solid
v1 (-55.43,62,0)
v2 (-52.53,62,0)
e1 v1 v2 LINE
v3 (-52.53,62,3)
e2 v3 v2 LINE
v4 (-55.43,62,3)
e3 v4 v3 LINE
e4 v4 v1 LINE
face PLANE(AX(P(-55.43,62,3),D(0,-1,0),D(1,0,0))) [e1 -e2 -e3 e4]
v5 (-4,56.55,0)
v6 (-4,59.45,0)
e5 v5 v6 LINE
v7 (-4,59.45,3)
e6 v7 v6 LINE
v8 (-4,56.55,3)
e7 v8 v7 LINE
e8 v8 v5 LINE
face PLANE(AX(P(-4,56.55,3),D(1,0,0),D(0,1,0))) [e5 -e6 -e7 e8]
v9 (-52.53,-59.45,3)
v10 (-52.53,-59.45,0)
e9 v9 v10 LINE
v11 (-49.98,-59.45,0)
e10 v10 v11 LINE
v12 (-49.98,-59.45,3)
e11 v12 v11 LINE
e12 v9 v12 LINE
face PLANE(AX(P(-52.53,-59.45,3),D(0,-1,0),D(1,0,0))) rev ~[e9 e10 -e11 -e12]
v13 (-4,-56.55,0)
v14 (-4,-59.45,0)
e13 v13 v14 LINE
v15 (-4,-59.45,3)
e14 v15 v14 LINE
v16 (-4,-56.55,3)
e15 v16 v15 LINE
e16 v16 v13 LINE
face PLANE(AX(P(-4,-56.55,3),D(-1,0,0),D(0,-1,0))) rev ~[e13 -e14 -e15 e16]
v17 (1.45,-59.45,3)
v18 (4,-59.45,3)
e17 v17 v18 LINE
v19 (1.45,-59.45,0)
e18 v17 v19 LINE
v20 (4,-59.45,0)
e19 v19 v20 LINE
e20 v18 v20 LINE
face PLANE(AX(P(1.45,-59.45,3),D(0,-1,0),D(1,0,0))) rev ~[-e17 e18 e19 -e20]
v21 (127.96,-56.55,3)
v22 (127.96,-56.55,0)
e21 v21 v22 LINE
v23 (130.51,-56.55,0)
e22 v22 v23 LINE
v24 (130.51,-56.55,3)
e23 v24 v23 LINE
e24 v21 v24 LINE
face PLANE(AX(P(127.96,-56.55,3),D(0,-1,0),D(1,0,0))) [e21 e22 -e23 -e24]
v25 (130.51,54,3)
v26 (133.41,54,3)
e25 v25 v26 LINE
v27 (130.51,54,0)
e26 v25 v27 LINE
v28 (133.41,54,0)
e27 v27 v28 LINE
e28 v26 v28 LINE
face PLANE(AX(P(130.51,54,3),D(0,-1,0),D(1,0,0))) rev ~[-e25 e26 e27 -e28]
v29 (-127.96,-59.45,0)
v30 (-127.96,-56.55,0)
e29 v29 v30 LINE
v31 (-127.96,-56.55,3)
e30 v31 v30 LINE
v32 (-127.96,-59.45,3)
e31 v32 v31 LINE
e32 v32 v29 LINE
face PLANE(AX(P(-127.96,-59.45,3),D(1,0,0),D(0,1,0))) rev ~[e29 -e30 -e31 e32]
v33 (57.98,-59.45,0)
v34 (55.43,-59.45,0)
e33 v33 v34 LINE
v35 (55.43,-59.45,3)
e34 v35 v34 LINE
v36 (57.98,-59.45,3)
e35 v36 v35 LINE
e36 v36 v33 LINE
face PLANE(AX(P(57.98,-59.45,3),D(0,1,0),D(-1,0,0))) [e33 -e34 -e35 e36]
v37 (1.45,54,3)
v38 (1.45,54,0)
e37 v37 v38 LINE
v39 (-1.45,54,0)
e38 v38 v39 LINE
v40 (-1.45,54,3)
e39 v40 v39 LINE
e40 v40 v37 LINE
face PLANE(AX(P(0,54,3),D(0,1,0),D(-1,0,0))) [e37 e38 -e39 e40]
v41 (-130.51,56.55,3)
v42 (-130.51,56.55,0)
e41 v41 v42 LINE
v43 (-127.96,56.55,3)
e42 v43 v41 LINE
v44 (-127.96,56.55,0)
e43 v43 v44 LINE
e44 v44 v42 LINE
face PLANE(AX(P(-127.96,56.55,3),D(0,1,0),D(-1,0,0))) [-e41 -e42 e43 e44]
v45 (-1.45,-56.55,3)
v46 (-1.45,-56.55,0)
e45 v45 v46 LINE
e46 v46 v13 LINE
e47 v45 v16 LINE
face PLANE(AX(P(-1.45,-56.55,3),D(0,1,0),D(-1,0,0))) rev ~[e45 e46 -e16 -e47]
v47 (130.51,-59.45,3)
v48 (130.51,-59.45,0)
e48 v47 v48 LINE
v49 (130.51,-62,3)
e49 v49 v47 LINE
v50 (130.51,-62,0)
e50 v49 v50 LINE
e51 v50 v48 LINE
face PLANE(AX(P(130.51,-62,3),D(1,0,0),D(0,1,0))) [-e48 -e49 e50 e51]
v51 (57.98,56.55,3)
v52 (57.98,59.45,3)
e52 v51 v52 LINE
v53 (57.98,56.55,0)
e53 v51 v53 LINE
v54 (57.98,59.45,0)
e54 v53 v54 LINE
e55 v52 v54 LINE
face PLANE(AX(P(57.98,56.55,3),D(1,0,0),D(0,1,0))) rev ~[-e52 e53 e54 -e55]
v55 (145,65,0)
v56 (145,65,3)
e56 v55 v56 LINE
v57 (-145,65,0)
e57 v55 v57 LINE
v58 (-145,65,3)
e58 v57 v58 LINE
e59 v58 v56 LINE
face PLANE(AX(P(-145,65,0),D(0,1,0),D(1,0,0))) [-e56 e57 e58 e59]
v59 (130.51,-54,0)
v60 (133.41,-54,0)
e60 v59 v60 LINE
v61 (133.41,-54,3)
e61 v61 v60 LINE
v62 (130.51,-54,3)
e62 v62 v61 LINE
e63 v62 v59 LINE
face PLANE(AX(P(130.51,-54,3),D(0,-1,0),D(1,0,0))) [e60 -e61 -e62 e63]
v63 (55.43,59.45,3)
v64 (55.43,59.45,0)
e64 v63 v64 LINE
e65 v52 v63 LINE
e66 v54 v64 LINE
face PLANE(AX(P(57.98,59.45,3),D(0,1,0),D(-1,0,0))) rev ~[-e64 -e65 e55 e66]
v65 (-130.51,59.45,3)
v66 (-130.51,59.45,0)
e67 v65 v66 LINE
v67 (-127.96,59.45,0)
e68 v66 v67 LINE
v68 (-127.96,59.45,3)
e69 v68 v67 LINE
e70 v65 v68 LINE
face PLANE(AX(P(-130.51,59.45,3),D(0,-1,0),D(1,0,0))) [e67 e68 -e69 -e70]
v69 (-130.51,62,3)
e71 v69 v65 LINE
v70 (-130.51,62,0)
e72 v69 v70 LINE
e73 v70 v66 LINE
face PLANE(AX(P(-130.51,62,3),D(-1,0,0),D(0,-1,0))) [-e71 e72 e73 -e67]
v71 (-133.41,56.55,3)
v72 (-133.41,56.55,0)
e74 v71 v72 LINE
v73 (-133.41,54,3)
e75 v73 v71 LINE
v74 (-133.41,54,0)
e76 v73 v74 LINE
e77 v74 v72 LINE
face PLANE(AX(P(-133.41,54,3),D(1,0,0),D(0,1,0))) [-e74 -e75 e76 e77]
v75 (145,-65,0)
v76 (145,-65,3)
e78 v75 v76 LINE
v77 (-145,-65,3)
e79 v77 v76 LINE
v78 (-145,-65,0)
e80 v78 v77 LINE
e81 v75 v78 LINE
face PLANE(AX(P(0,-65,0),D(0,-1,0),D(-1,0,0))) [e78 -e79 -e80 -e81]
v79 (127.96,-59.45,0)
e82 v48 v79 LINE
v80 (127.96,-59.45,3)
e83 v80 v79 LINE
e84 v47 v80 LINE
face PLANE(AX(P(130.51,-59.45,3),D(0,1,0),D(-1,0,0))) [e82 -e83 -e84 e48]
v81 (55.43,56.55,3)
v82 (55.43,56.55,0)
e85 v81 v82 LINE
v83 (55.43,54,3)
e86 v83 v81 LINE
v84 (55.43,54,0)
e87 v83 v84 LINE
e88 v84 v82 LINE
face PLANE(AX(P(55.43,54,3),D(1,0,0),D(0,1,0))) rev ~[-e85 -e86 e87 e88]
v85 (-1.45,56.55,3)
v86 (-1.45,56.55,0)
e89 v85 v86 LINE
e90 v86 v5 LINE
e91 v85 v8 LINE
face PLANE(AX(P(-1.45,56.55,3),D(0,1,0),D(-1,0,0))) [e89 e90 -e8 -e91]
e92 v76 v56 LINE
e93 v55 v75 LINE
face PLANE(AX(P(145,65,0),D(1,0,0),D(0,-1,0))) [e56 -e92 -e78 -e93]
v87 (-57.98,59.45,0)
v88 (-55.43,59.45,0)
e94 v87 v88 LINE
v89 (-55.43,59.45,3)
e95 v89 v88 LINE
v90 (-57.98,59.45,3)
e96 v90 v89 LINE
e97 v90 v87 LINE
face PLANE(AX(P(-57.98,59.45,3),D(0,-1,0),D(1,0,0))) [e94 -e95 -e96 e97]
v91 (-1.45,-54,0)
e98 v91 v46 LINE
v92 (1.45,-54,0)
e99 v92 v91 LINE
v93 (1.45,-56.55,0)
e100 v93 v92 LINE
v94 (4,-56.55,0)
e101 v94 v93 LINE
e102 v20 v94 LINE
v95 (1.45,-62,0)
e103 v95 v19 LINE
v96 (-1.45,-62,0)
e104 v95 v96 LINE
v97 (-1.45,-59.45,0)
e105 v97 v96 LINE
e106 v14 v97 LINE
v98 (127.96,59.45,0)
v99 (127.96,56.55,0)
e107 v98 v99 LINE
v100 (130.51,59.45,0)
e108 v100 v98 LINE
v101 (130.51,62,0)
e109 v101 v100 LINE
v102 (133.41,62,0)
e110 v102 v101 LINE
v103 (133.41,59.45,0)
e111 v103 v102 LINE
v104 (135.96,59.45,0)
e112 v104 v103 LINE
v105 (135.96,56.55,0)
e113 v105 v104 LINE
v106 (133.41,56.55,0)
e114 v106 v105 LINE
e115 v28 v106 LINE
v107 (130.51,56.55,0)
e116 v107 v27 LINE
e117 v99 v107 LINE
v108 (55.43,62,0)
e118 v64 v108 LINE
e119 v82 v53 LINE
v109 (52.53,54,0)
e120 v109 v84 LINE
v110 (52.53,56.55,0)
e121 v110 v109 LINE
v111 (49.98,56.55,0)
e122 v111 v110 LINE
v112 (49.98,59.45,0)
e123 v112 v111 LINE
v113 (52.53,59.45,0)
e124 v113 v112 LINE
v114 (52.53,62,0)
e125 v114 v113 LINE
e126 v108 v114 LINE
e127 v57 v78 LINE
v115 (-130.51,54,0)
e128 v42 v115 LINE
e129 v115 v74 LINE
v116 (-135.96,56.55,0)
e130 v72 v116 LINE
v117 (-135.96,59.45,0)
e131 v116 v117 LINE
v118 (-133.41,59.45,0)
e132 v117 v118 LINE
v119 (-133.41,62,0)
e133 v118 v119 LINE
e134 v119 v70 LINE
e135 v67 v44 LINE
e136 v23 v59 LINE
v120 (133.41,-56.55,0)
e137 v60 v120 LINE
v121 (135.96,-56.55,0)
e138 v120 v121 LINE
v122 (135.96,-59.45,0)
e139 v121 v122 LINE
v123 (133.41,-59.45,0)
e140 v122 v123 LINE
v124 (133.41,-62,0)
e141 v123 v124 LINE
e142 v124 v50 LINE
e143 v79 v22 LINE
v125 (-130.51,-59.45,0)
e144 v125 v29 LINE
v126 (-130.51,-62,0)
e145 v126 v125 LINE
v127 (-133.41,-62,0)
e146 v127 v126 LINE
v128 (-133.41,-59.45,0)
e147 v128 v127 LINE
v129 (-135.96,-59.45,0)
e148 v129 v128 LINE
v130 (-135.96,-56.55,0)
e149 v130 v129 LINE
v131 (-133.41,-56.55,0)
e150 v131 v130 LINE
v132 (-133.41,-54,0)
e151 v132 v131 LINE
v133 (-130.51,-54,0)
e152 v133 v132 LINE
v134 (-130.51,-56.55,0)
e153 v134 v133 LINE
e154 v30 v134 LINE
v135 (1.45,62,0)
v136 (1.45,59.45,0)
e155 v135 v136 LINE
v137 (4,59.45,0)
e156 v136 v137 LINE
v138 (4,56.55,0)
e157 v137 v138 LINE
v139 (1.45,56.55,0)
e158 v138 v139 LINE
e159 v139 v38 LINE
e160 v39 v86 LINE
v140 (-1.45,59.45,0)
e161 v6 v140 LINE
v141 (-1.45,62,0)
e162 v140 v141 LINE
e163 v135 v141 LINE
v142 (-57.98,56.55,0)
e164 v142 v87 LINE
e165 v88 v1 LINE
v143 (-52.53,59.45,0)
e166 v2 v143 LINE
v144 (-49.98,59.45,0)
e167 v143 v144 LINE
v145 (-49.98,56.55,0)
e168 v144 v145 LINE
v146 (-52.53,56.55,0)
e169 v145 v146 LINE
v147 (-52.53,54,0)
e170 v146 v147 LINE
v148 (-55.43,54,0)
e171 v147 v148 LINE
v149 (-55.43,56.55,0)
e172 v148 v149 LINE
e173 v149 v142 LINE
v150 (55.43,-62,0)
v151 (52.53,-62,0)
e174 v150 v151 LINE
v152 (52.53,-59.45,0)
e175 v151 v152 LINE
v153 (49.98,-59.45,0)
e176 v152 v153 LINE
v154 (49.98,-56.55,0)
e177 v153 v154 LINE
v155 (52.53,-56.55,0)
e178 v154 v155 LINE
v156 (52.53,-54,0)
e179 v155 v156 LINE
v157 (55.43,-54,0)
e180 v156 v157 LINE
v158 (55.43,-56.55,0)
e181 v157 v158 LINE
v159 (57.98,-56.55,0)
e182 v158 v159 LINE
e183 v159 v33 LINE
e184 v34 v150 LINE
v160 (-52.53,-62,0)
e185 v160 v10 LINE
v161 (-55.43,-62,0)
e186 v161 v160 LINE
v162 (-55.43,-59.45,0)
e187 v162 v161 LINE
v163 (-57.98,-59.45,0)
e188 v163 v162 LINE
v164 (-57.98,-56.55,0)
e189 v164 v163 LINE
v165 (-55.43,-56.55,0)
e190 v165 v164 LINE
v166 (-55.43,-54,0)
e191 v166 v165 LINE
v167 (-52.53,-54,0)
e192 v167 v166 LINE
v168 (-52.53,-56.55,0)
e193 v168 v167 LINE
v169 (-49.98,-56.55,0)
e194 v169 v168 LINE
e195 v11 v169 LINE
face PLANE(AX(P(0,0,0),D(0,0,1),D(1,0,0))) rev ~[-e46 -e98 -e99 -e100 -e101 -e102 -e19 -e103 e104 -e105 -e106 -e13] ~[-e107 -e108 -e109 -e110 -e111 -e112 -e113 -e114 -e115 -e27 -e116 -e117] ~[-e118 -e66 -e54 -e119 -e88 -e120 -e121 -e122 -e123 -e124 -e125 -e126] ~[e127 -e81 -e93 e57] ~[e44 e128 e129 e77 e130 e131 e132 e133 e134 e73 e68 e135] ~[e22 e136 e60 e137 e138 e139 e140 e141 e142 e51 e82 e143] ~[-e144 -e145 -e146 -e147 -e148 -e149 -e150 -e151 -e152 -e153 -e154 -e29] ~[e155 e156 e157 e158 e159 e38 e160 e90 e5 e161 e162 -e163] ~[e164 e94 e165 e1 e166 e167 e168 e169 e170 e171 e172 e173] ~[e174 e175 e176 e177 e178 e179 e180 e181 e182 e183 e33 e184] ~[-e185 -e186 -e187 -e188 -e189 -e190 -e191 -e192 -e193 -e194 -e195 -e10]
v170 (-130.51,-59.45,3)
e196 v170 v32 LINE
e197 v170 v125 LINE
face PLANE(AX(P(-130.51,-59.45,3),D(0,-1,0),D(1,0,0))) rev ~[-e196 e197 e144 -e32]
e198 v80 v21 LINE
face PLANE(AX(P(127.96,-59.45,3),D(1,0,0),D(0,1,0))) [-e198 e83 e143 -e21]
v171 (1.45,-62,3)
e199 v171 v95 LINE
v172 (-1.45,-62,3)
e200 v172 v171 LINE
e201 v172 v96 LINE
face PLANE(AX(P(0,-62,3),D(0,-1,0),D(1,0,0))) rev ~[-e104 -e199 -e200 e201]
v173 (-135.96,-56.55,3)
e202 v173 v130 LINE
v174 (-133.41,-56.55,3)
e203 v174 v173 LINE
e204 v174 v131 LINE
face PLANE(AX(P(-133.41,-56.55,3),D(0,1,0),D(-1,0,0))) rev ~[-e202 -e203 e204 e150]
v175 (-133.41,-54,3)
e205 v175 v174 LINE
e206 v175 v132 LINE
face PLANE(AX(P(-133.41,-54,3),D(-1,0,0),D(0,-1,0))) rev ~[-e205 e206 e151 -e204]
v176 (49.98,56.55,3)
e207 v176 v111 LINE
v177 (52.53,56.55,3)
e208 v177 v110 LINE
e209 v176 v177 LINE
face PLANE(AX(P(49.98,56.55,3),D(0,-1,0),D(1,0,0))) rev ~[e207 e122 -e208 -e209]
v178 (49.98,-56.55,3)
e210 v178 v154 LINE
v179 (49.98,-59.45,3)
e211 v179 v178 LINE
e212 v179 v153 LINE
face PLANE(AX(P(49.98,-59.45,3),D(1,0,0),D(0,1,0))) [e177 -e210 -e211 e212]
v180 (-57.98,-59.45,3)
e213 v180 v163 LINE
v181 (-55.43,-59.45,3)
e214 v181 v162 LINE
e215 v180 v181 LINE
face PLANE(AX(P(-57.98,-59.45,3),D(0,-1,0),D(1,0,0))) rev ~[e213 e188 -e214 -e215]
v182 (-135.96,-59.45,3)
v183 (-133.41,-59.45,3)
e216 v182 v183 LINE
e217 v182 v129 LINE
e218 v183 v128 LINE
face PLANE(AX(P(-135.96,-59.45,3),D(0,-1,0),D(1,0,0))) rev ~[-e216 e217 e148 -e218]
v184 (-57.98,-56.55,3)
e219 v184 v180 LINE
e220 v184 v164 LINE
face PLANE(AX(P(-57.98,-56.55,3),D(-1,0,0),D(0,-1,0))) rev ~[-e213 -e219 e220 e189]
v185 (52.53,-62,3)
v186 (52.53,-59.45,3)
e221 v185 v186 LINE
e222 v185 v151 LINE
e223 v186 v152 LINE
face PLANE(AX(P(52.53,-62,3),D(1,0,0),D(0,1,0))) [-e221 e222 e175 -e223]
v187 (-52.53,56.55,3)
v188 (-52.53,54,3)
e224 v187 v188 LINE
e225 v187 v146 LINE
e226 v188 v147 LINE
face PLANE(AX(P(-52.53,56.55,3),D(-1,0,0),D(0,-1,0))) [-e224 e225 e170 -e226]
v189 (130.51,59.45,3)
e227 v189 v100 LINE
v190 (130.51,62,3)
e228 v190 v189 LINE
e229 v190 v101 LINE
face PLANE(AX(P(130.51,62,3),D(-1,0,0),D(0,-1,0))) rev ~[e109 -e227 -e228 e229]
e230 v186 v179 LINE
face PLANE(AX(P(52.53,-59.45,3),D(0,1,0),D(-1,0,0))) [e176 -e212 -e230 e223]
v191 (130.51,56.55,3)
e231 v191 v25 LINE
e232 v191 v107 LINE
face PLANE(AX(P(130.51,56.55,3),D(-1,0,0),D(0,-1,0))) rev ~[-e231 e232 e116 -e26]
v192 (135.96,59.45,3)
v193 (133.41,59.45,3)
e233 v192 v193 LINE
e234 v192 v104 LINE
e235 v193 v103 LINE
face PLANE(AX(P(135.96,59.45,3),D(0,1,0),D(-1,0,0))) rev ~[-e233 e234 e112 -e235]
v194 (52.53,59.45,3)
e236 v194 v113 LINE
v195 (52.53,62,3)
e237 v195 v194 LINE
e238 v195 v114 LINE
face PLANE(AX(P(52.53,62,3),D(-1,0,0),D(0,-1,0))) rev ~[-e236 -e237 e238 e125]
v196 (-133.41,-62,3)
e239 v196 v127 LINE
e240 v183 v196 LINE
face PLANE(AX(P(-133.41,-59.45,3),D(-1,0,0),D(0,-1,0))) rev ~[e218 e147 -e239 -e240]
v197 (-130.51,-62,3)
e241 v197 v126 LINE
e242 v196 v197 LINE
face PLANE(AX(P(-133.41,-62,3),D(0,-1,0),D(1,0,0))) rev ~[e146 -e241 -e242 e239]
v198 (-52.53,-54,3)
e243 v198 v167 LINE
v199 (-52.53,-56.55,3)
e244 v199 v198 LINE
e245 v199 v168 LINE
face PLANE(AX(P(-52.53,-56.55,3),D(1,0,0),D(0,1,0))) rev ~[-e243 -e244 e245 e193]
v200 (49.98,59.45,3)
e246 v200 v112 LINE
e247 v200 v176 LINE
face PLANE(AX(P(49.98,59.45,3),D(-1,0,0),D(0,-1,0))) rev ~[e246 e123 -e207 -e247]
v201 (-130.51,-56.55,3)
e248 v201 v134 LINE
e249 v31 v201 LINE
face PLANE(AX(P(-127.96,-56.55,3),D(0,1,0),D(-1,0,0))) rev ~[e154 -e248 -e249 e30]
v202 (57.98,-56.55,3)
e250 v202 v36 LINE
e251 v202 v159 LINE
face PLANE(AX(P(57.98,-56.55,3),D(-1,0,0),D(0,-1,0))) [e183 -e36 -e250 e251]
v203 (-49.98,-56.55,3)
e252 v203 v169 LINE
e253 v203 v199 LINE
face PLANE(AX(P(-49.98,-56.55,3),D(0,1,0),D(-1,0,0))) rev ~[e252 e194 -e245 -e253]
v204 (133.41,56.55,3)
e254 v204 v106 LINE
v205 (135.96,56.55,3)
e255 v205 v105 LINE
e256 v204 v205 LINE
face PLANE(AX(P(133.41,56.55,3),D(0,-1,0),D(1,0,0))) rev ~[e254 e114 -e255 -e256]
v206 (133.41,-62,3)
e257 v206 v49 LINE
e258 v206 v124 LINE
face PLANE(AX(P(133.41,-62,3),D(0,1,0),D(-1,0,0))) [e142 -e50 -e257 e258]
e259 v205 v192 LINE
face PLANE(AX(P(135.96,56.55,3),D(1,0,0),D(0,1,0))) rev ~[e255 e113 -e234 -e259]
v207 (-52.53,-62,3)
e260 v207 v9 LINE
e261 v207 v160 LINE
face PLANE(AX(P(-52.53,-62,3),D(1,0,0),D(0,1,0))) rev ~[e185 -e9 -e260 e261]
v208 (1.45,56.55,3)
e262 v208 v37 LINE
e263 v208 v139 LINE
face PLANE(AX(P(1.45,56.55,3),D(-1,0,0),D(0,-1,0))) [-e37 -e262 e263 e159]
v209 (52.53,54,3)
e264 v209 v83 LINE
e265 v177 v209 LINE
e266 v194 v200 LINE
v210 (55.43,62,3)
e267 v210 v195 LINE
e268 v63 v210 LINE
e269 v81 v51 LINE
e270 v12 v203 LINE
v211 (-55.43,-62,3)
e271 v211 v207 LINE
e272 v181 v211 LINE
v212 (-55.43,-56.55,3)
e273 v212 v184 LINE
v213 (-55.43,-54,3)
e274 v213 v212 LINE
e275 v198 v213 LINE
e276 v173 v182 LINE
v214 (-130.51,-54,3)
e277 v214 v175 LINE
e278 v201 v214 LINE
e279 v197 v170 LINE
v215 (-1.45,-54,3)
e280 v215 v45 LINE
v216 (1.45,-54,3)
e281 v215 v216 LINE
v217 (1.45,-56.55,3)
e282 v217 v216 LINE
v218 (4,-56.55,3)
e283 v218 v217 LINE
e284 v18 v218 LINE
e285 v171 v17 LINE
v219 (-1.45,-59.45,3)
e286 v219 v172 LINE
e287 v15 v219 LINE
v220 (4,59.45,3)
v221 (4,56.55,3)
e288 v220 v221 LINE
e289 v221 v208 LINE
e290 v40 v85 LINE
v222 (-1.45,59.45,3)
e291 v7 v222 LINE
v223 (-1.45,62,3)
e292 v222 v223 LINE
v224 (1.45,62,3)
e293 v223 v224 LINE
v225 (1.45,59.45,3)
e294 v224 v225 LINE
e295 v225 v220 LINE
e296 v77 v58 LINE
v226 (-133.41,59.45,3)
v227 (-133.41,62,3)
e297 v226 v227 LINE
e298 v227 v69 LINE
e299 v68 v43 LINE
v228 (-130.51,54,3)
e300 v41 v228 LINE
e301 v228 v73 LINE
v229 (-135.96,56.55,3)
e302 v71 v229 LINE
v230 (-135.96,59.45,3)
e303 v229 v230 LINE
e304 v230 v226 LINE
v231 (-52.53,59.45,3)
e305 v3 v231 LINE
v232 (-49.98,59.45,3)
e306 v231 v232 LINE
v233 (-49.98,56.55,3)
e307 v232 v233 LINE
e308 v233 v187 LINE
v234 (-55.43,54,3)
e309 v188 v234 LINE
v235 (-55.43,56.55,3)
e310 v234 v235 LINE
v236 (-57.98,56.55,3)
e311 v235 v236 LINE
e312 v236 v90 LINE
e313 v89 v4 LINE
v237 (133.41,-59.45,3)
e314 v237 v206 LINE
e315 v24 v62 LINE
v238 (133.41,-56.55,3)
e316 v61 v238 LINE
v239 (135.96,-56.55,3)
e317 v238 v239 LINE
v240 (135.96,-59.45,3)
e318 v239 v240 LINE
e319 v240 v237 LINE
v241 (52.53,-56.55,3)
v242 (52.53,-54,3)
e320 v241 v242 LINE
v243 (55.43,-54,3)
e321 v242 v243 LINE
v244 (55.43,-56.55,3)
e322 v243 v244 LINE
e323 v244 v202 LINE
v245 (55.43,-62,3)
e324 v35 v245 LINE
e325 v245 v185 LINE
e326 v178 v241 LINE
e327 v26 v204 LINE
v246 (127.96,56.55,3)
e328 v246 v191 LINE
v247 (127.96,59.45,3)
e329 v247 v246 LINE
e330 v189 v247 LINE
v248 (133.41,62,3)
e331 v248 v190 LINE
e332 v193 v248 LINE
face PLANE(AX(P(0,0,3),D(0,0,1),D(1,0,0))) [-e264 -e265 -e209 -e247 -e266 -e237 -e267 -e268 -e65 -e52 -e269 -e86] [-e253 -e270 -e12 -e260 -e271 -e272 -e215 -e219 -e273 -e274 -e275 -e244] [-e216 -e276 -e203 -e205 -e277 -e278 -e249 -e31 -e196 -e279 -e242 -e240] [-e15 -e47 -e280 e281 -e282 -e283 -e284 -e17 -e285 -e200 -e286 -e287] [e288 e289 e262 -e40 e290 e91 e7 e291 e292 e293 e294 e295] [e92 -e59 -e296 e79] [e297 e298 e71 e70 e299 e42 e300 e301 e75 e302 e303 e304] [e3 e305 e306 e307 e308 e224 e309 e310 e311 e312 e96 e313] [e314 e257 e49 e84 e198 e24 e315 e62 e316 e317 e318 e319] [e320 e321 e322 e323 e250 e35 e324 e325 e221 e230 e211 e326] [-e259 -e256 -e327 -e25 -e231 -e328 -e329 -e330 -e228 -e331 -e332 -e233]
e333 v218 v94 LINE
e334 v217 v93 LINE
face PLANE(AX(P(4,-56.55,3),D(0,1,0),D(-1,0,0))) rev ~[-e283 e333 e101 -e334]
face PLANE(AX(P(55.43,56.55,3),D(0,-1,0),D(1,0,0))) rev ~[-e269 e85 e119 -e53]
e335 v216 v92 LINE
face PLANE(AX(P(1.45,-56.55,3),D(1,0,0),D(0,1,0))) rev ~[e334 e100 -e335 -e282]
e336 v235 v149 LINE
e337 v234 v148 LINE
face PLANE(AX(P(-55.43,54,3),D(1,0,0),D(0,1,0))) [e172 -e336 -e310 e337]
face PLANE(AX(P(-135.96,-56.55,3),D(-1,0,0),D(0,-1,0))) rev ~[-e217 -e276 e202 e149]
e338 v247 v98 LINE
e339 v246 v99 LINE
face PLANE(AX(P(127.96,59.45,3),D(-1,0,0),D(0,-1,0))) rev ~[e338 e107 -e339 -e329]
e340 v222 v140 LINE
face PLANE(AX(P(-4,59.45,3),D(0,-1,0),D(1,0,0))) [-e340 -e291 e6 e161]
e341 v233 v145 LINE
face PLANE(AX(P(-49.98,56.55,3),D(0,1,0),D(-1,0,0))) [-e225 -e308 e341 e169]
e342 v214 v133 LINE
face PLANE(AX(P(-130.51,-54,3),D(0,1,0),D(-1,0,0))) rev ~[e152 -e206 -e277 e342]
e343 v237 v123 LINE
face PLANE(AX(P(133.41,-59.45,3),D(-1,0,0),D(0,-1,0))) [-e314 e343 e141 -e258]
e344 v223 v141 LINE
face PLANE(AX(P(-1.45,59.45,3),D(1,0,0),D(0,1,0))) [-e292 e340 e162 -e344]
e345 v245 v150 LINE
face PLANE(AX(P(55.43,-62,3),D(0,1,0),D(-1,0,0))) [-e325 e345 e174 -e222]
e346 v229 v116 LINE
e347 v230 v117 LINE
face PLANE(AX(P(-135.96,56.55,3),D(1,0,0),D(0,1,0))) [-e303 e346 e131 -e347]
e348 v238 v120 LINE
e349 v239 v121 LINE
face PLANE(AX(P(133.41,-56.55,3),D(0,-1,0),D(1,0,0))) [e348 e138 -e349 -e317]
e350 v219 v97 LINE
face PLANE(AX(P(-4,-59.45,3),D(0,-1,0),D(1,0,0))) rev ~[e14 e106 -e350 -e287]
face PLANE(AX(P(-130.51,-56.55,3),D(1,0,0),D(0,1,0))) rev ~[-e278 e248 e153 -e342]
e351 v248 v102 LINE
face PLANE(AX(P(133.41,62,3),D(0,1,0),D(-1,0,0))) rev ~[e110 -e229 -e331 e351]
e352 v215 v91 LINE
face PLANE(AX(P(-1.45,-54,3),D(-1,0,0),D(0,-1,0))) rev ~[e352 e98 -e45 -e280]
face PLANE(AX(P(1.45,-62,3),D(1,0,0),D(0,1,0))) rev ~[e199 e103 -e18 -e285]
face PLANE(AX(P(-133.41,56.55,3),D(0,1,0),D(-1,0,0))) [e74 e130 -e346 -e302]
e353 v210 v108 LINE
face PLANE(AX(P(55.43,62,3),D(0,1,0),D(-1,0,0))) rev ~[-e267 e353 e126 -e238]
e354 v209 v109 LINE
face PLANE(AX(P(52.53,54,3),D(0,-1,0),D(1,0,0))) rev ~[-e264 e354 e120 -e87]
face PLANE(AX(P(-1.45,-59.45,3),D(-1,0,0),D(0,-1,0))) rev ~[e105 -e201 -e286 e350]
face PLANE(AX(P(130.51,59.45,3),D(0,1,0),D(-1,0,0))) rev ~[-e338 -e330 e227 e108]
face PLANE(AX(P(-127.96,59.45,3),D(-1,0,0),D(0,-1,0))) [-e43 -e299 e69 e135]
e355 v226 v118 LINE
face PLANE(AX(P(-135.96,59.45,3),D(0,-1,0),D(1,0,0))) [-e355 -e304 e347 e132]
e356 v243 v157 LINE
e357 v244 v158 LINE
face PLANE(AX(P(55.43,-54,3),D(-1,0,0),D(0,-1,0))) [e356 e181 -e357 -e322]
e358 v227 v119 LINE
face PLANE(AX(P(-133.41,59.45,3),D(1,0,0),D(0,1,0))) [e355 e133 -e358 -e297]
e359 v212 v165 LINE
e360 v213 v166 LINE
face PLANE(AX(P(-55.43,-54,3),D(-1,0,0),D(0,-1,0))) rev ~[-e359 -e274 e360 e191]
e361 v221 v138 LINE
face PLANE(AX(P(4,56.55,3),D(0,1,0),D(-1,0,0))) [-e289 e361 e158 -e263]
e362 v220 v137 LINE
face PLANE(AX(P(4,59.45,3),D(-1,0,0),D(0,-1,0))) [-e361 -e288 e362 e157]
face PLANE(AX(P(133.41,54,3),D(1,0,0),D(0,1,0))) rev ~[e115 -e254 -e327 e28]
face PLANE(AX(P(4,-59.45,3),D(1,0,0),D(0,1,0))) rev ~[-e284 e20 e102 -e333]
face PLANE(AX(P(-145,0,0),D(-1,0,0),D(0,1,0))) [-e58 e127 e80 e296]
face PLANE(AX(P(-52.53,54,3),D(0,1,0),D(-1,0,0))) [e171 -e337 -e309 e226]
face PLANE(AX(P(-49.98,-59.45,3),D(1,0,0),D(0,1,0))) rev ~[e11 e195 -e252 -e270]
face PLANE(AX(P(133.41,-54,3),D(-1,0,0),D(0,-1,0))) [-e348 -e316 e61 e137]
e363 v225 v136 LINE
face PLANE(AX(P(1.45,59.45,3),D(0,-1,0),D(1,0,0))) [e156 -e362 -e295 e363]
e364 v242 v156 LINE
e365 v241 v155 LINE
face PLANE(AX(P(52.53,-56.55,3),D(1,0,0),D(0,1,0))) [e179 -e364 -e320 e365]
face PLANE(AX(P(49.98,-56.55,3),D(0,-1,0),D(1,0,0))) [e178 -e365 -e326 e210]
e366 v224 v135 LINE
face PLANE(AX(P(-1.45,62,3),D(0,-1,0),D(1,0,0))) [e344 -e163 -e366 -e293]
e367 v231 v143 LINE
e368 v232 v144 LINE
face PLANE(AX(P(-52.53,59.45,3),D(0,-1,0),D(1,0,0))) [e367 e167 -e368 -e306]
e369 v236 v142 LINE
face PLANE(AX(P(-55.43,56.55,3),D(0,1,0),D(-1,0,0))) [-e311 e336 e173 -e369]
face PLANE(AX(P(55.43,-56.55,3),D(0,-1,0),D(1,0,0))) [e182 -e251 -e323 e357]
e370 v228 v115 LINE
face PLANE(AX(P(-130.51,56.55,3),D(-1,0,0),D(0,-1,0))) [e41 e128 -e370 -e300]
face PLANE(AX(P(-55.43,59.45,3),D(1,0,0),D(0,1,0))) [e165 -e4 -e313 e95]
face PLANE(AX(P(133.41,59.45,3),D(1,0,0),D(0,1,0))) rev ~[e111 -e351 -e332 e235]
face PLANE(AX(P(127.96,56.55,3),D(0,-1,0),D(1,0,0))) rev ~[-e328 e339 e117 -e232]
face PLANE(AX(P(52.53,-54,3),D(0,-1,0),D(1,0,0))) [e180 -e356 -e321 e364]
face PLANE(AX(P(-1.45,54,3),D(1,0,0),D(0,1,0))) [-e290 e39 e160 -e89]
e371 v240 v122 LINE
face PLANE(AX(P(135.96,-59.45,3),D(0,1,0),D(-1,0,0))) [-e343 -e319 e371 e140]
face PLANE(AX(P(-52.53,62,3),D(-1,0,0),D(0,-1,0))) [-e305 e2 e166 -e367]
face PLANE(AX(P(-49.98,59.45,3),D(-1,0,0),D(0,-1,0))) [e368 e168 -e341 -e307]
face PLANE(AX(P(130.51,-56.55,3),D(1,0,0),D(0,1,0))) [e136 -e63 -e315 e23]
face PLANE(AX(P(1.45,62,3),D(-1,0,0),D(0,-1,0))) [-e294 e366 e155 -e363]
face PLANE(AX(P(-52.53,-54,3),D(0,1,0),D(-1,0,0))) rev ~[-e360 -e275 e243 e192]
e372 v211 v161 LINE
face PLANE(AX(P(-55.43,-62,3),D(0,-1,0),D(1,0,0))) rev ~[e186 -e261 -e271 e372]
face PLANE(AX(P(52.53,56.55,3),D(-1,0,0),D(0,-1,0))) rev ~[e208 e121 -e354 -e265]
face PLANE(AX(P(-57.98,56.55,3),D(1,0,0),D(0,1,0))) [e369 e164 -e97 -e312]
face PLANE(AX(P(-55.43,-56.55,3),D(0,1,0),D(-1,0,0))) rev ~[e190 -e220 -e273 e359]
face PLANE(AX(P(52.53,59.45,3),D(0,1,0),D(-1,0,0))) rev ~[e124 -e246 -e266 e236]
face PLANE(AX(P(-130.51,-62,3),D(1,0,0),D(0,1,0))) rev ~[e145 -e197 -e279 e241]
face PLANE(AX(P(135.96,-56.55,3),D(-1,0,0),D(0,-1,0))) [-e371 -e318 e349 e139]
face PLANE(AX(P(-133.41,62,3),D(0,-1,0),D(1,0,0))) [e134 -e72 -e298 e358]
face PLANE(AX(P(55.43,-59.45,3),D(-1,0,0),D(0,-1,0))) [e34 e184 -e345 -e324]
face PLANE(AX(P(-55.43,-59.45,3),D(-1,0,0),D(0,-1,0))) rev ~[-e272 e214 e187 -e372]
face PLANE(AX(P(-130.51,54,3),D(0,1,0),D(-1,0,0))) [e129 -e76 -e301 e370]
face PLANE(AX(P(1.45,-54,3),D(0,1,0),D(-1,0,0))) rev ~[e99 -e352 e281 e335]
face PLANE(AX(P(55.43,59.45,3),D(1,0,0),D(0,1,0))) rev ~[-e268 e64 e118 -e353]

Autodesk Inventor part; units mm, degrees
ref_plane "YZ Plane" through (0, 0, 0) normal (1, 0, 0) x (0, 1, 0)
ref_plane "XZ Plane" through (0, 0, 0) normal (0, 1, 0) x (-1, 0, 0)
ref_plane "XY Plane" through (0, 0, 0) normal (0, 0, 1) x (1, 0, 0)
sketch "草圖1" plane through (0, 0, 0) normal (0, 0, 1) x (1, 0, 0)
  line L0 (-145, 65) -> (145, 65)
  line L1 (145, 65) -> (145, -65)
  line L2 (145, -65) -> (-145, -65)
  line L3 (-145, -65) -> (-145, 65)
  line L4 (0, -91) -> (0, 91) projected
  line L5 (-203, 0) -> (203, 0) projected
  point P0 (0, 0)
  dimension "d0" = 290
  dimension "d1" = 130
extrude "擠出1" add sketch "草圖1" along normal blind 3
sketch "草圖2" plane through (0, 0, 3) normal (0, 0, 1) x (1, 0, 0)
  line L0 (-1.45, 62) -> (1.45, 62)
  line L1 (1.45, 62) -> (1.45, 54)
  line L2 (1.45, 54) -> (-1.45, 54)
  line L3 (-1.45, 54) -> (-1.45, 62)
  line L4 (-4, 59.45) -> (4, 59.45)
  line L5 (4, 59.45) -> (4, 56.55)
  line L6 (4, 56.55) -> (-4, 56.55)
  line L7 (-4, 56.55) -> (-4, 59.45)
  line L8 (145, 65) -> (-145, 65) projected
  line L9 (1.45, 62) -> (-1.45, 54)
  line L10 (-1.45, 62) -> (1.45, 54)
  line L11 (4, 59.45) -> (-4, 56.55)
  line L12 (-4, 59.45) -> (4, 56.55)
  line L13 (-55.43, 62) -> (-52.53, 62)
  line L14 (-52.53, 62) -> (-52.53, 54)
  line L15 (-52.53, 54) -> (-55.43, 54)
  line L16 (-55.43, 54) -> (-55.43, 62)
  line L17 (-57.98, 59.45) -> (-49.98, 59.45)
  line L18 (-49.98, 59.45) -> (-49.98, 56.55)
  line L19 (-49.98, 56.55) -> (-57.98, 56.55)
  line L20 (-57.98, 56.55) -> (-57.98, 59.45)
  line L21 (-52.53, 62) -> (-55.43, 54)
  line L22 (-55.43, 62) -> (-52.53, 54)
  line L23 (-49.98, 59.45) -> (-57.98, 56.55)
  line L24 (-57.98, 59.45) -> (-49.98, 56.55)
  line L25 (-133.41, 62) -> (-130.51, 62)
  line L26 (-130.51, 62) -> (-130.51, 54)
  line L27 (-130.51, 54) -> (-133.41, 54)
  line L28 (-133.41, 54) -> (-133.41, 62)
  line L29 (-135.96, 56.55) -> (-135.96, 59.45)
  line L30 (-130.51, 62) -> (-133.41, 54)
  line L31 (-133.41, 62) -> (-130.51, 54)
  line L32 (-135.96, 59.45) -> (-127.96, 59.45)
  line L33 (-127.96, 56.55) -> (-135.96, 56.55)
  line L34 (-127.96, 59.45) -> (-135.96, 56.55)
  line L35 (-135.96, 59.45) -> (-127.96, 56.55)
  line L36 (-127.96, 59.45) -> (-127.96, 56.55)
  line L37 (-145, 65) -> (-145, -65) projected
  line L38 (-145, 0) -> (145, 0)
  line L39 (0, 65) -> (0, -65)
  line L40 (55.43, 62) -> (52.53, 62)
  line L41 (52.53, 62) -> (52.53, 54)
  line L42 (52.53, 54) -> (55.43, 54)
  line L43 (55.43, 54) -> (55.43, 62)
  line L44 (57.98, 56.55) -> (57.98, 59.45)
  line L45 (52.53, 62) -> (55.43, 54)
  line L46 (55.43, 62) -> (52.53, 54)
  line L47 (57.98, 59.45) -> (49.98, 59.45)
  line L48 (49.98, 56.55) -> (57.98, 56.55)
  line L49 (49.98, 59.45) -> (57.98, 56.55)
  line L50 (57.98, 59.45) -> (49.98, 56.55)
  line L51 (49.98, 59.45) -> (49.98, 56.55)
  line L52 (127.96, 59.45) -> (127.96, 56.55)
  line L53 (130.51, 62) -> (130.51, 54)
  line L54 (133.41, 54) -> (133.41, 62)
  line L55 (130.51, 62) -> (133.41, 54)
  line L56 (133.41, 62) -> (130.51, 54)
  line L57 (130.51, 54) -> (133.41, 54)
  line L58 (135.96, 59.45) -> (127.96, 59.45)
  line L59 (135.96, 59.45) -> (127.96, 56.55)
  line L60 (135.96, 56.55) -> (135.96, 59.45)
  line L61 (127.96, 56.55) -> (135.96, 56.55)
  line L62 (127.96, 59.45) -> (135.96, 56.55)
  line L63 (133.41, 62) -> (130.51, 62)
  line L64 (-1.45, -62) -> (1.45, -62)
  line L65 (1.45, -62) -> (1.45, -54)
  line L66 (1.45, -54) -> (-1.45, -54)
  line L67 (-1.45, -54) -> (-1.45, -62)
  line L68 (-4, -59.45) -> (4, -59.45)
  line L69 (4, -59.45) -> (4, -56.55)
  line L70 (4, -56.55) -> (-4, -56.55)
  line L71 (-4, -56.55) -> (-4, -59.45)
  line L72 (1.45, -62) -> (-1.45, -54)
  line L73 (-1.45, -62) -> (1.45, -54)
  line L74 (4, -59.45) -> (-4, -56.55)
  line L75 (-4, -59.45) -> (4, -56.55)
  line L76 (-55.43, -62) -> (-52.53, -62)
  line L77 (-52.53, -62) -> (-52.53, -54)
  line L78 (-52.53, -54) -> (-55.43, -54)
  line L79 (-55.43, -54) -> (-55.43, -62)
  line L80 (-57.98, -56.55) -> (-57.98, -59.45)
  line L81 (-52.53, -62) -> (-55.43, -54)
  line L82 (-55.43, -62) -> (-52.53, -54)
  line L83 (-57.98, -59.45) -> (-49.98, -59.45)
  line L84 (-49.98, -56.55) -> (-57.98, -56.55)
  line L85 (-49.98, -59.45) -> (-57.98, -56.55)
  line L86 (-57.98, -59.45) -> (-49.98, -56.55)
  line L87 (-49.98, -59.45) -> (-49.98, -56.55)
  line L88 (-127.96, -59.45) -> (-127.96, -56.55)
  line L89 (-130.51, -62) -> (-130.51, -54)
  line L90 (-133.41, -54) -> (-133.41, -62)
  line L91 (-130.51, -62) -> (-133.41, -54)
  line L92 (-133.41, -62) -> (-130.51, -54)
  line L93 (-130.51, -54) -> (-133.41, -54)
  line L94 (-135.96, -59.45) -> (-127.96, -59.45)
  line L95 (-135.96, -59.45) -> (-127.96, -56.55)
  line L96 (-135.96, -56.55) -> (-135.96, -59.45)
  line L97 (-127.96, -56.55) -> (-135.96, -56.55)
  line L98 (-127.96, -59.45) -> (-135.96, -56.55)
  line L99 (-133.41, -62) -> (-130.51, -62)
  line L100 (52.53, -62) -> (52.53, -54)
  line L101 (52.53, -62) -> (55.43, -54)
  line L102 (55.43, -62) -> (52.53, -54)
  line L103 (55.43, -62) -> (52.53, -62)
  line L104 (57.98, -56.55) -> (57.98, -59.45)
  line L105 (57.98, -59.45) -> (49.98, -59.45)
  line L106 (49.98, -56.55) -> (57.98, -56.55)
  line L107 (49.98, -59.45) -> (57.98, -56.55)
  line L108 (55.43, -54) -> (55.43, -62)
  line L109 (52.53, -54) -> (55.43, -54)
  line L110 (49.98, -59.45) -> (49.98, -56.55)
  line L111 (57.98, -59.45) -> (49.98, -56.55)
  line L112 (127.96, -59.45) -> (127.96, -56.55)
  line L113 (130.51, -54) -> (133.41, -54)
  line L114 (130.51, -62) -> (130.51, -54)
  line L115 (133.41, -62) -> (130.51, -62)
  line L116 (133.41, -54) -> (133.41, -62)
  line L117 (133.41, -62) -> (130.51, -54)
  line L118 (130.51, -62) -> (133.41, -54)
  line L119 (127.96, -56.55) -> (135.96, -56.55)
  line L120 (135.96, -59.45) -> (127.96, -59.45)
  line L121 (135.96, -59.45) -> (127.96, -56.55)
  line L122 (127.96, -59.45) -> (135.96, -56.55)
  line L123 (135.96, -56.55) -> (135.96, -59.45)
  point P0 (0, 0)
  point P1 (0, 58)
  point P2 (0, 58)
  point P3 (-53.98, 58)
  point P4 (-53.98, 58)
  point P5 (-53.98, 58)
  point P6 (0, 58)
  point P7 (-131.96, 58)
  point P8 (-131.96, 58)
  point P9 (-131.96, 58)
  point P10 (53.98, 58)
  point P11 (53.98, 58)
  point P12 (53.98, 58)
  point P13 (131.96, 58)
  point P14 (131.96, 58)
  point P15 (131.96, 58)
  point P16 (0, -58)
  point P17 (0, -58)
  point P18 (-53.98, -58)
  point P19 (-53.98, -58)
  point P20 (-53.98, -58)
  point P21 (0, -58)
  point P22 (-131.96, -58)
  point P23 (-131.96, -58)
  point P24 (-131.96, -58)
  point P25 (53.98, -58)
  point P26 (53.98, -58)
  point P27 (53.98, -58)
  point P28 (131.96, -58)
  point P29 (131.96, -58)
  point P30 (131.96, -58)
  point P31 (-133.41, -59.45)
  point P32 (-130.51, -59.45)
  point P33 (-130.51, -56.55)
  point P34 (-133.41, -56.55)
  point P35 (-55.43, -56.55)
  point P36 (-55.43, -59.45)
  point P37 (-52.53, -59.45)
  point P38 (-52.53, -56.55)
  point P39 (1.45, -56.55)
  point P40 (-1.45, -56.55)
  point P41 (-1.45, -59.45)
  point P42 (1.45, -59.45)
  point P43 (55.43, -59.45)
  point P44 (55.43, -56.55)
  point P45 (52.53, -56.55)
  point P46 (52.53, -59.45)
  point P47 (133.41, -56.55)
  point P48 (130.51, -56.55)
  point P49 (130.51, -59.45)
  point P50 (133.41, -59.45)
  point P51 (133.41, 59.45)
  point P52 (130.51, 59.45)
  point P53 (130.51, 56.55)
  point P54 (133.41, 56.55)
  point P55 (52.53, 56.55)
  point P56 (55.43, 56.55)
  point P57 (55.43, 59.45)
  point P58 (52.53, 59.45)
  point P59 (-1.45, 59.45)
  point P60 (-1.45, 56.55)
  point P61 (1.45, 56.55)
  point P62 (1.45, 59.45)
  point P63 (-52.53, 59.45)
  point P64 (-55.43, 59.45)
  point P65 (-55.43, 56.55)
  point P66 (-52.53, 56.55)
  point P67 (-130.51, 59.45)
  point P68 (-133.41, 59.45)
  point P69 (-133.41, 56.55)
  point P70 (-130.51, 56.55)
  dimension "d4" = 2.9
  dimension "d5" = 8
  dimension "d6" = 3
  dimension "d7" = 2.9
  dimension "d8" = 8
  dimension "d9" = 51.08
  dimension "d10" = 2.9
  dimension "d11" = 8
  dimension "d13" = 75.08
extrude "擠出2" cut sketch "草圖2" against normal blind 3 contours L10 L4 L3 | L0 L39 L4 L10 | L66 L73 L70 L39 | L39 L70 L72 L66 | L0 L9 L4 L39 | L4 L10 L12 L3 | L3 L12 L4 | L4 L39 L10 | L1 L4 L9 | L4 L9 L39 | L12 L11 L3 | L3 L11 L7 L12 | L39 L6 L9 | L12 L1 L6 L10 | L9 L4 L1 L11 | L9 L6 L3 L11 | L11 L1 L12 | L10 L6 L39 | L4 L11 L1 | L3 L6 L11 | L9 L3 L6 | L6 L39 L2 L9 | L10 L2 L39 L6 | L6 L1 L10 | L11 L5 L12 L1 | L12 L6 L1 | L70 L73 L39 | L39 L72 L70 | L65 L70 L73 | L72 L70 L67 | L72 L68 L39 | L74 L65 L68 L72 | L74 L67 L70 L72 | L39 L68 L73 | L75 L65 L74 | L75 L67 L74 | L73 L68 L67 L75 | L73 L70 L65 L75 | L70 L75 L65 | L67 L74 L70 | L68 L72 L64 L39 | L39 L64 L73 L68 | L68 L65 L72 | L73 L67 L68 | L74 L68 L65 | L65 L75 L69 L74 | L67 L75 L71 L74 | L67 L68 L75 | L22 L17 L16 | L13 L21 L17 L22 | L14 L17 L21 | L17 L22 L24 L16 | L16 L24 L17 | L17 L21 L22 | L17 L23 L14 | L14 L23 L21 L17 | L24 L23 L16 | L16 L23 L20 L24 | L22 L19 L21 | L24 L14 L19 L22 | L21 L19 L16 L23 | L23 L14 L24 | L23 L18 L24 L14 | L16 L19 L23 | L21 L16 L19 | L19 L22 L15 L21 | L19 L14 L22 | L24 L19 L14 | L31 L32 L28 | L25 L30 L32 L31 | L26 L32 L30 | L32 L31 L35 L28 | L28 L35 L32 | L32 L30 L31 | L32 L34 L26 | L26 L34 L30 L32 | L35 L34 L28 | L28 L34 L29 L35 | L31 L33 L30 | L35 L26 L33 L31 | L30 L33 L28 L34 | L34 L26 L35 | L34 L36 L35 L26 | L28 L33 L34 | L33 L31 L27 L30 | L30 L28 L33 | L33 L26 L31 | L35 L33 L26 | L46 L47 L45 L40 | L43 L47 L46 | L45 L47 L41 | L47 L50 L43 | L43 L50 L46 L47 | L46 L45 L47 | L47 L45 L49 L41 | L41 L49 L47 | L50 L44 L49 L43 | L43 L49 L50 | L49 L43 L48 L45 | L45 L48 L46 | L50 L41 L49 | L46 L48 L41 L50 | L41 L50 L51 L49 | L49 L48 L43 | L48 L43 L45 | L45 L42 L46 L48 | L46 L41 L48 | L41 L48 L50 | L62 L53 L59 L52 | L58 L53 L62 | L59 L53 L61 | L58 L55 L62 L53 | L53 L55 L58 | L62 L59 L53 | L59 L56 L61 L53 | L61 L56 L53 | L63 L56 L58 L55 | L58 L56 L55 | L62 L54 L61 L55 | L55 L61 L56 | L56 L58 L54 L59 | L59 L54 L62 | L56 L61 L55 L57 | L54 L58 L56 | L61 L54 L55 | L59 L60 L62 L54 | L54 L58 L59 | L62 L61 L54 | L82 L83 L81 L76 | L79 L83 L82 | L81 L83 L77 | L83 L86 L79 | L79 L86 L82 L83 | L82 L81 L83 | L83 L81 L85 L77 | L77 L85 L83 | L86 L80 L85 L79 | L79 L85 L86 | L85 L79 L84 L81 | L81 L84 L82 | L86 L77 L85 | L82 L84 L77 L86 | L77 L86 L87 L85 | L85 L84 L79 | L84 L79 L81 | L81 L78 L82 L84 | L82 L77 L84 | L77 L84 L86 | L98 L89 L95 L88 | L94 L89 L98 | L95 L89 L97 | L94 L91 L98 L89 | L89 L91 L94 | L98 L95 L89 | L95 L92 L97 L89 | L97 L92 L89 | L99 L92 L94 L91 | L94 L92 L91 | L98 L90 L97 L91 | L91 L97 L92 | L92 L94 L90 L95 | L95 L90 L98 | L92 L97 L91 L93 | L90 L94 L92 | L97 L90 L91 | L95 L96 L98 L90 | L90 L94 L95 | L98 L97 L90 | L100 L105 L101 | L101 L105 L102 L103 | L105 L107 L100 | L100 L107 L101 L105 | L101 L102 L105 | L102 L105 L108 | L107 L110 L111 L100 | L100 L111 L107 | L102 L106 L101 | L111 L108 L105 L102 | L111 L100 L106 L102 | L101 L106 L108 L107 | L107 L108 L111 | L108 L111 L105 | L111 L106 L100 | L106 L102 L109 L101 | L101 L108 L106 | L106 L100 L102 | L108 L106 L107 | L107 L104 L111 L108 | L122 L114 L120 | L112 L121 L114 L122 | L119 L114 L121 | L120 L118 L114 | L114 L122 L118 L120 | L114 L121 L122 | L119 L117 L121 L114 | L114 L117 L119 | L118 L120 L117 L115 | L118 L117 L120 | L121 L116 L120 L117 | L117 L119 L118 | L122 L116 L121 | L118 L119 L116 L122 | L113 L118 L119 L117 | L117 L120 L116 | L118 L116 L119 | L121 L120 L116 | L116 L122 L123 L121 | L116 L119 L122
properties part number "plate_expansion"
